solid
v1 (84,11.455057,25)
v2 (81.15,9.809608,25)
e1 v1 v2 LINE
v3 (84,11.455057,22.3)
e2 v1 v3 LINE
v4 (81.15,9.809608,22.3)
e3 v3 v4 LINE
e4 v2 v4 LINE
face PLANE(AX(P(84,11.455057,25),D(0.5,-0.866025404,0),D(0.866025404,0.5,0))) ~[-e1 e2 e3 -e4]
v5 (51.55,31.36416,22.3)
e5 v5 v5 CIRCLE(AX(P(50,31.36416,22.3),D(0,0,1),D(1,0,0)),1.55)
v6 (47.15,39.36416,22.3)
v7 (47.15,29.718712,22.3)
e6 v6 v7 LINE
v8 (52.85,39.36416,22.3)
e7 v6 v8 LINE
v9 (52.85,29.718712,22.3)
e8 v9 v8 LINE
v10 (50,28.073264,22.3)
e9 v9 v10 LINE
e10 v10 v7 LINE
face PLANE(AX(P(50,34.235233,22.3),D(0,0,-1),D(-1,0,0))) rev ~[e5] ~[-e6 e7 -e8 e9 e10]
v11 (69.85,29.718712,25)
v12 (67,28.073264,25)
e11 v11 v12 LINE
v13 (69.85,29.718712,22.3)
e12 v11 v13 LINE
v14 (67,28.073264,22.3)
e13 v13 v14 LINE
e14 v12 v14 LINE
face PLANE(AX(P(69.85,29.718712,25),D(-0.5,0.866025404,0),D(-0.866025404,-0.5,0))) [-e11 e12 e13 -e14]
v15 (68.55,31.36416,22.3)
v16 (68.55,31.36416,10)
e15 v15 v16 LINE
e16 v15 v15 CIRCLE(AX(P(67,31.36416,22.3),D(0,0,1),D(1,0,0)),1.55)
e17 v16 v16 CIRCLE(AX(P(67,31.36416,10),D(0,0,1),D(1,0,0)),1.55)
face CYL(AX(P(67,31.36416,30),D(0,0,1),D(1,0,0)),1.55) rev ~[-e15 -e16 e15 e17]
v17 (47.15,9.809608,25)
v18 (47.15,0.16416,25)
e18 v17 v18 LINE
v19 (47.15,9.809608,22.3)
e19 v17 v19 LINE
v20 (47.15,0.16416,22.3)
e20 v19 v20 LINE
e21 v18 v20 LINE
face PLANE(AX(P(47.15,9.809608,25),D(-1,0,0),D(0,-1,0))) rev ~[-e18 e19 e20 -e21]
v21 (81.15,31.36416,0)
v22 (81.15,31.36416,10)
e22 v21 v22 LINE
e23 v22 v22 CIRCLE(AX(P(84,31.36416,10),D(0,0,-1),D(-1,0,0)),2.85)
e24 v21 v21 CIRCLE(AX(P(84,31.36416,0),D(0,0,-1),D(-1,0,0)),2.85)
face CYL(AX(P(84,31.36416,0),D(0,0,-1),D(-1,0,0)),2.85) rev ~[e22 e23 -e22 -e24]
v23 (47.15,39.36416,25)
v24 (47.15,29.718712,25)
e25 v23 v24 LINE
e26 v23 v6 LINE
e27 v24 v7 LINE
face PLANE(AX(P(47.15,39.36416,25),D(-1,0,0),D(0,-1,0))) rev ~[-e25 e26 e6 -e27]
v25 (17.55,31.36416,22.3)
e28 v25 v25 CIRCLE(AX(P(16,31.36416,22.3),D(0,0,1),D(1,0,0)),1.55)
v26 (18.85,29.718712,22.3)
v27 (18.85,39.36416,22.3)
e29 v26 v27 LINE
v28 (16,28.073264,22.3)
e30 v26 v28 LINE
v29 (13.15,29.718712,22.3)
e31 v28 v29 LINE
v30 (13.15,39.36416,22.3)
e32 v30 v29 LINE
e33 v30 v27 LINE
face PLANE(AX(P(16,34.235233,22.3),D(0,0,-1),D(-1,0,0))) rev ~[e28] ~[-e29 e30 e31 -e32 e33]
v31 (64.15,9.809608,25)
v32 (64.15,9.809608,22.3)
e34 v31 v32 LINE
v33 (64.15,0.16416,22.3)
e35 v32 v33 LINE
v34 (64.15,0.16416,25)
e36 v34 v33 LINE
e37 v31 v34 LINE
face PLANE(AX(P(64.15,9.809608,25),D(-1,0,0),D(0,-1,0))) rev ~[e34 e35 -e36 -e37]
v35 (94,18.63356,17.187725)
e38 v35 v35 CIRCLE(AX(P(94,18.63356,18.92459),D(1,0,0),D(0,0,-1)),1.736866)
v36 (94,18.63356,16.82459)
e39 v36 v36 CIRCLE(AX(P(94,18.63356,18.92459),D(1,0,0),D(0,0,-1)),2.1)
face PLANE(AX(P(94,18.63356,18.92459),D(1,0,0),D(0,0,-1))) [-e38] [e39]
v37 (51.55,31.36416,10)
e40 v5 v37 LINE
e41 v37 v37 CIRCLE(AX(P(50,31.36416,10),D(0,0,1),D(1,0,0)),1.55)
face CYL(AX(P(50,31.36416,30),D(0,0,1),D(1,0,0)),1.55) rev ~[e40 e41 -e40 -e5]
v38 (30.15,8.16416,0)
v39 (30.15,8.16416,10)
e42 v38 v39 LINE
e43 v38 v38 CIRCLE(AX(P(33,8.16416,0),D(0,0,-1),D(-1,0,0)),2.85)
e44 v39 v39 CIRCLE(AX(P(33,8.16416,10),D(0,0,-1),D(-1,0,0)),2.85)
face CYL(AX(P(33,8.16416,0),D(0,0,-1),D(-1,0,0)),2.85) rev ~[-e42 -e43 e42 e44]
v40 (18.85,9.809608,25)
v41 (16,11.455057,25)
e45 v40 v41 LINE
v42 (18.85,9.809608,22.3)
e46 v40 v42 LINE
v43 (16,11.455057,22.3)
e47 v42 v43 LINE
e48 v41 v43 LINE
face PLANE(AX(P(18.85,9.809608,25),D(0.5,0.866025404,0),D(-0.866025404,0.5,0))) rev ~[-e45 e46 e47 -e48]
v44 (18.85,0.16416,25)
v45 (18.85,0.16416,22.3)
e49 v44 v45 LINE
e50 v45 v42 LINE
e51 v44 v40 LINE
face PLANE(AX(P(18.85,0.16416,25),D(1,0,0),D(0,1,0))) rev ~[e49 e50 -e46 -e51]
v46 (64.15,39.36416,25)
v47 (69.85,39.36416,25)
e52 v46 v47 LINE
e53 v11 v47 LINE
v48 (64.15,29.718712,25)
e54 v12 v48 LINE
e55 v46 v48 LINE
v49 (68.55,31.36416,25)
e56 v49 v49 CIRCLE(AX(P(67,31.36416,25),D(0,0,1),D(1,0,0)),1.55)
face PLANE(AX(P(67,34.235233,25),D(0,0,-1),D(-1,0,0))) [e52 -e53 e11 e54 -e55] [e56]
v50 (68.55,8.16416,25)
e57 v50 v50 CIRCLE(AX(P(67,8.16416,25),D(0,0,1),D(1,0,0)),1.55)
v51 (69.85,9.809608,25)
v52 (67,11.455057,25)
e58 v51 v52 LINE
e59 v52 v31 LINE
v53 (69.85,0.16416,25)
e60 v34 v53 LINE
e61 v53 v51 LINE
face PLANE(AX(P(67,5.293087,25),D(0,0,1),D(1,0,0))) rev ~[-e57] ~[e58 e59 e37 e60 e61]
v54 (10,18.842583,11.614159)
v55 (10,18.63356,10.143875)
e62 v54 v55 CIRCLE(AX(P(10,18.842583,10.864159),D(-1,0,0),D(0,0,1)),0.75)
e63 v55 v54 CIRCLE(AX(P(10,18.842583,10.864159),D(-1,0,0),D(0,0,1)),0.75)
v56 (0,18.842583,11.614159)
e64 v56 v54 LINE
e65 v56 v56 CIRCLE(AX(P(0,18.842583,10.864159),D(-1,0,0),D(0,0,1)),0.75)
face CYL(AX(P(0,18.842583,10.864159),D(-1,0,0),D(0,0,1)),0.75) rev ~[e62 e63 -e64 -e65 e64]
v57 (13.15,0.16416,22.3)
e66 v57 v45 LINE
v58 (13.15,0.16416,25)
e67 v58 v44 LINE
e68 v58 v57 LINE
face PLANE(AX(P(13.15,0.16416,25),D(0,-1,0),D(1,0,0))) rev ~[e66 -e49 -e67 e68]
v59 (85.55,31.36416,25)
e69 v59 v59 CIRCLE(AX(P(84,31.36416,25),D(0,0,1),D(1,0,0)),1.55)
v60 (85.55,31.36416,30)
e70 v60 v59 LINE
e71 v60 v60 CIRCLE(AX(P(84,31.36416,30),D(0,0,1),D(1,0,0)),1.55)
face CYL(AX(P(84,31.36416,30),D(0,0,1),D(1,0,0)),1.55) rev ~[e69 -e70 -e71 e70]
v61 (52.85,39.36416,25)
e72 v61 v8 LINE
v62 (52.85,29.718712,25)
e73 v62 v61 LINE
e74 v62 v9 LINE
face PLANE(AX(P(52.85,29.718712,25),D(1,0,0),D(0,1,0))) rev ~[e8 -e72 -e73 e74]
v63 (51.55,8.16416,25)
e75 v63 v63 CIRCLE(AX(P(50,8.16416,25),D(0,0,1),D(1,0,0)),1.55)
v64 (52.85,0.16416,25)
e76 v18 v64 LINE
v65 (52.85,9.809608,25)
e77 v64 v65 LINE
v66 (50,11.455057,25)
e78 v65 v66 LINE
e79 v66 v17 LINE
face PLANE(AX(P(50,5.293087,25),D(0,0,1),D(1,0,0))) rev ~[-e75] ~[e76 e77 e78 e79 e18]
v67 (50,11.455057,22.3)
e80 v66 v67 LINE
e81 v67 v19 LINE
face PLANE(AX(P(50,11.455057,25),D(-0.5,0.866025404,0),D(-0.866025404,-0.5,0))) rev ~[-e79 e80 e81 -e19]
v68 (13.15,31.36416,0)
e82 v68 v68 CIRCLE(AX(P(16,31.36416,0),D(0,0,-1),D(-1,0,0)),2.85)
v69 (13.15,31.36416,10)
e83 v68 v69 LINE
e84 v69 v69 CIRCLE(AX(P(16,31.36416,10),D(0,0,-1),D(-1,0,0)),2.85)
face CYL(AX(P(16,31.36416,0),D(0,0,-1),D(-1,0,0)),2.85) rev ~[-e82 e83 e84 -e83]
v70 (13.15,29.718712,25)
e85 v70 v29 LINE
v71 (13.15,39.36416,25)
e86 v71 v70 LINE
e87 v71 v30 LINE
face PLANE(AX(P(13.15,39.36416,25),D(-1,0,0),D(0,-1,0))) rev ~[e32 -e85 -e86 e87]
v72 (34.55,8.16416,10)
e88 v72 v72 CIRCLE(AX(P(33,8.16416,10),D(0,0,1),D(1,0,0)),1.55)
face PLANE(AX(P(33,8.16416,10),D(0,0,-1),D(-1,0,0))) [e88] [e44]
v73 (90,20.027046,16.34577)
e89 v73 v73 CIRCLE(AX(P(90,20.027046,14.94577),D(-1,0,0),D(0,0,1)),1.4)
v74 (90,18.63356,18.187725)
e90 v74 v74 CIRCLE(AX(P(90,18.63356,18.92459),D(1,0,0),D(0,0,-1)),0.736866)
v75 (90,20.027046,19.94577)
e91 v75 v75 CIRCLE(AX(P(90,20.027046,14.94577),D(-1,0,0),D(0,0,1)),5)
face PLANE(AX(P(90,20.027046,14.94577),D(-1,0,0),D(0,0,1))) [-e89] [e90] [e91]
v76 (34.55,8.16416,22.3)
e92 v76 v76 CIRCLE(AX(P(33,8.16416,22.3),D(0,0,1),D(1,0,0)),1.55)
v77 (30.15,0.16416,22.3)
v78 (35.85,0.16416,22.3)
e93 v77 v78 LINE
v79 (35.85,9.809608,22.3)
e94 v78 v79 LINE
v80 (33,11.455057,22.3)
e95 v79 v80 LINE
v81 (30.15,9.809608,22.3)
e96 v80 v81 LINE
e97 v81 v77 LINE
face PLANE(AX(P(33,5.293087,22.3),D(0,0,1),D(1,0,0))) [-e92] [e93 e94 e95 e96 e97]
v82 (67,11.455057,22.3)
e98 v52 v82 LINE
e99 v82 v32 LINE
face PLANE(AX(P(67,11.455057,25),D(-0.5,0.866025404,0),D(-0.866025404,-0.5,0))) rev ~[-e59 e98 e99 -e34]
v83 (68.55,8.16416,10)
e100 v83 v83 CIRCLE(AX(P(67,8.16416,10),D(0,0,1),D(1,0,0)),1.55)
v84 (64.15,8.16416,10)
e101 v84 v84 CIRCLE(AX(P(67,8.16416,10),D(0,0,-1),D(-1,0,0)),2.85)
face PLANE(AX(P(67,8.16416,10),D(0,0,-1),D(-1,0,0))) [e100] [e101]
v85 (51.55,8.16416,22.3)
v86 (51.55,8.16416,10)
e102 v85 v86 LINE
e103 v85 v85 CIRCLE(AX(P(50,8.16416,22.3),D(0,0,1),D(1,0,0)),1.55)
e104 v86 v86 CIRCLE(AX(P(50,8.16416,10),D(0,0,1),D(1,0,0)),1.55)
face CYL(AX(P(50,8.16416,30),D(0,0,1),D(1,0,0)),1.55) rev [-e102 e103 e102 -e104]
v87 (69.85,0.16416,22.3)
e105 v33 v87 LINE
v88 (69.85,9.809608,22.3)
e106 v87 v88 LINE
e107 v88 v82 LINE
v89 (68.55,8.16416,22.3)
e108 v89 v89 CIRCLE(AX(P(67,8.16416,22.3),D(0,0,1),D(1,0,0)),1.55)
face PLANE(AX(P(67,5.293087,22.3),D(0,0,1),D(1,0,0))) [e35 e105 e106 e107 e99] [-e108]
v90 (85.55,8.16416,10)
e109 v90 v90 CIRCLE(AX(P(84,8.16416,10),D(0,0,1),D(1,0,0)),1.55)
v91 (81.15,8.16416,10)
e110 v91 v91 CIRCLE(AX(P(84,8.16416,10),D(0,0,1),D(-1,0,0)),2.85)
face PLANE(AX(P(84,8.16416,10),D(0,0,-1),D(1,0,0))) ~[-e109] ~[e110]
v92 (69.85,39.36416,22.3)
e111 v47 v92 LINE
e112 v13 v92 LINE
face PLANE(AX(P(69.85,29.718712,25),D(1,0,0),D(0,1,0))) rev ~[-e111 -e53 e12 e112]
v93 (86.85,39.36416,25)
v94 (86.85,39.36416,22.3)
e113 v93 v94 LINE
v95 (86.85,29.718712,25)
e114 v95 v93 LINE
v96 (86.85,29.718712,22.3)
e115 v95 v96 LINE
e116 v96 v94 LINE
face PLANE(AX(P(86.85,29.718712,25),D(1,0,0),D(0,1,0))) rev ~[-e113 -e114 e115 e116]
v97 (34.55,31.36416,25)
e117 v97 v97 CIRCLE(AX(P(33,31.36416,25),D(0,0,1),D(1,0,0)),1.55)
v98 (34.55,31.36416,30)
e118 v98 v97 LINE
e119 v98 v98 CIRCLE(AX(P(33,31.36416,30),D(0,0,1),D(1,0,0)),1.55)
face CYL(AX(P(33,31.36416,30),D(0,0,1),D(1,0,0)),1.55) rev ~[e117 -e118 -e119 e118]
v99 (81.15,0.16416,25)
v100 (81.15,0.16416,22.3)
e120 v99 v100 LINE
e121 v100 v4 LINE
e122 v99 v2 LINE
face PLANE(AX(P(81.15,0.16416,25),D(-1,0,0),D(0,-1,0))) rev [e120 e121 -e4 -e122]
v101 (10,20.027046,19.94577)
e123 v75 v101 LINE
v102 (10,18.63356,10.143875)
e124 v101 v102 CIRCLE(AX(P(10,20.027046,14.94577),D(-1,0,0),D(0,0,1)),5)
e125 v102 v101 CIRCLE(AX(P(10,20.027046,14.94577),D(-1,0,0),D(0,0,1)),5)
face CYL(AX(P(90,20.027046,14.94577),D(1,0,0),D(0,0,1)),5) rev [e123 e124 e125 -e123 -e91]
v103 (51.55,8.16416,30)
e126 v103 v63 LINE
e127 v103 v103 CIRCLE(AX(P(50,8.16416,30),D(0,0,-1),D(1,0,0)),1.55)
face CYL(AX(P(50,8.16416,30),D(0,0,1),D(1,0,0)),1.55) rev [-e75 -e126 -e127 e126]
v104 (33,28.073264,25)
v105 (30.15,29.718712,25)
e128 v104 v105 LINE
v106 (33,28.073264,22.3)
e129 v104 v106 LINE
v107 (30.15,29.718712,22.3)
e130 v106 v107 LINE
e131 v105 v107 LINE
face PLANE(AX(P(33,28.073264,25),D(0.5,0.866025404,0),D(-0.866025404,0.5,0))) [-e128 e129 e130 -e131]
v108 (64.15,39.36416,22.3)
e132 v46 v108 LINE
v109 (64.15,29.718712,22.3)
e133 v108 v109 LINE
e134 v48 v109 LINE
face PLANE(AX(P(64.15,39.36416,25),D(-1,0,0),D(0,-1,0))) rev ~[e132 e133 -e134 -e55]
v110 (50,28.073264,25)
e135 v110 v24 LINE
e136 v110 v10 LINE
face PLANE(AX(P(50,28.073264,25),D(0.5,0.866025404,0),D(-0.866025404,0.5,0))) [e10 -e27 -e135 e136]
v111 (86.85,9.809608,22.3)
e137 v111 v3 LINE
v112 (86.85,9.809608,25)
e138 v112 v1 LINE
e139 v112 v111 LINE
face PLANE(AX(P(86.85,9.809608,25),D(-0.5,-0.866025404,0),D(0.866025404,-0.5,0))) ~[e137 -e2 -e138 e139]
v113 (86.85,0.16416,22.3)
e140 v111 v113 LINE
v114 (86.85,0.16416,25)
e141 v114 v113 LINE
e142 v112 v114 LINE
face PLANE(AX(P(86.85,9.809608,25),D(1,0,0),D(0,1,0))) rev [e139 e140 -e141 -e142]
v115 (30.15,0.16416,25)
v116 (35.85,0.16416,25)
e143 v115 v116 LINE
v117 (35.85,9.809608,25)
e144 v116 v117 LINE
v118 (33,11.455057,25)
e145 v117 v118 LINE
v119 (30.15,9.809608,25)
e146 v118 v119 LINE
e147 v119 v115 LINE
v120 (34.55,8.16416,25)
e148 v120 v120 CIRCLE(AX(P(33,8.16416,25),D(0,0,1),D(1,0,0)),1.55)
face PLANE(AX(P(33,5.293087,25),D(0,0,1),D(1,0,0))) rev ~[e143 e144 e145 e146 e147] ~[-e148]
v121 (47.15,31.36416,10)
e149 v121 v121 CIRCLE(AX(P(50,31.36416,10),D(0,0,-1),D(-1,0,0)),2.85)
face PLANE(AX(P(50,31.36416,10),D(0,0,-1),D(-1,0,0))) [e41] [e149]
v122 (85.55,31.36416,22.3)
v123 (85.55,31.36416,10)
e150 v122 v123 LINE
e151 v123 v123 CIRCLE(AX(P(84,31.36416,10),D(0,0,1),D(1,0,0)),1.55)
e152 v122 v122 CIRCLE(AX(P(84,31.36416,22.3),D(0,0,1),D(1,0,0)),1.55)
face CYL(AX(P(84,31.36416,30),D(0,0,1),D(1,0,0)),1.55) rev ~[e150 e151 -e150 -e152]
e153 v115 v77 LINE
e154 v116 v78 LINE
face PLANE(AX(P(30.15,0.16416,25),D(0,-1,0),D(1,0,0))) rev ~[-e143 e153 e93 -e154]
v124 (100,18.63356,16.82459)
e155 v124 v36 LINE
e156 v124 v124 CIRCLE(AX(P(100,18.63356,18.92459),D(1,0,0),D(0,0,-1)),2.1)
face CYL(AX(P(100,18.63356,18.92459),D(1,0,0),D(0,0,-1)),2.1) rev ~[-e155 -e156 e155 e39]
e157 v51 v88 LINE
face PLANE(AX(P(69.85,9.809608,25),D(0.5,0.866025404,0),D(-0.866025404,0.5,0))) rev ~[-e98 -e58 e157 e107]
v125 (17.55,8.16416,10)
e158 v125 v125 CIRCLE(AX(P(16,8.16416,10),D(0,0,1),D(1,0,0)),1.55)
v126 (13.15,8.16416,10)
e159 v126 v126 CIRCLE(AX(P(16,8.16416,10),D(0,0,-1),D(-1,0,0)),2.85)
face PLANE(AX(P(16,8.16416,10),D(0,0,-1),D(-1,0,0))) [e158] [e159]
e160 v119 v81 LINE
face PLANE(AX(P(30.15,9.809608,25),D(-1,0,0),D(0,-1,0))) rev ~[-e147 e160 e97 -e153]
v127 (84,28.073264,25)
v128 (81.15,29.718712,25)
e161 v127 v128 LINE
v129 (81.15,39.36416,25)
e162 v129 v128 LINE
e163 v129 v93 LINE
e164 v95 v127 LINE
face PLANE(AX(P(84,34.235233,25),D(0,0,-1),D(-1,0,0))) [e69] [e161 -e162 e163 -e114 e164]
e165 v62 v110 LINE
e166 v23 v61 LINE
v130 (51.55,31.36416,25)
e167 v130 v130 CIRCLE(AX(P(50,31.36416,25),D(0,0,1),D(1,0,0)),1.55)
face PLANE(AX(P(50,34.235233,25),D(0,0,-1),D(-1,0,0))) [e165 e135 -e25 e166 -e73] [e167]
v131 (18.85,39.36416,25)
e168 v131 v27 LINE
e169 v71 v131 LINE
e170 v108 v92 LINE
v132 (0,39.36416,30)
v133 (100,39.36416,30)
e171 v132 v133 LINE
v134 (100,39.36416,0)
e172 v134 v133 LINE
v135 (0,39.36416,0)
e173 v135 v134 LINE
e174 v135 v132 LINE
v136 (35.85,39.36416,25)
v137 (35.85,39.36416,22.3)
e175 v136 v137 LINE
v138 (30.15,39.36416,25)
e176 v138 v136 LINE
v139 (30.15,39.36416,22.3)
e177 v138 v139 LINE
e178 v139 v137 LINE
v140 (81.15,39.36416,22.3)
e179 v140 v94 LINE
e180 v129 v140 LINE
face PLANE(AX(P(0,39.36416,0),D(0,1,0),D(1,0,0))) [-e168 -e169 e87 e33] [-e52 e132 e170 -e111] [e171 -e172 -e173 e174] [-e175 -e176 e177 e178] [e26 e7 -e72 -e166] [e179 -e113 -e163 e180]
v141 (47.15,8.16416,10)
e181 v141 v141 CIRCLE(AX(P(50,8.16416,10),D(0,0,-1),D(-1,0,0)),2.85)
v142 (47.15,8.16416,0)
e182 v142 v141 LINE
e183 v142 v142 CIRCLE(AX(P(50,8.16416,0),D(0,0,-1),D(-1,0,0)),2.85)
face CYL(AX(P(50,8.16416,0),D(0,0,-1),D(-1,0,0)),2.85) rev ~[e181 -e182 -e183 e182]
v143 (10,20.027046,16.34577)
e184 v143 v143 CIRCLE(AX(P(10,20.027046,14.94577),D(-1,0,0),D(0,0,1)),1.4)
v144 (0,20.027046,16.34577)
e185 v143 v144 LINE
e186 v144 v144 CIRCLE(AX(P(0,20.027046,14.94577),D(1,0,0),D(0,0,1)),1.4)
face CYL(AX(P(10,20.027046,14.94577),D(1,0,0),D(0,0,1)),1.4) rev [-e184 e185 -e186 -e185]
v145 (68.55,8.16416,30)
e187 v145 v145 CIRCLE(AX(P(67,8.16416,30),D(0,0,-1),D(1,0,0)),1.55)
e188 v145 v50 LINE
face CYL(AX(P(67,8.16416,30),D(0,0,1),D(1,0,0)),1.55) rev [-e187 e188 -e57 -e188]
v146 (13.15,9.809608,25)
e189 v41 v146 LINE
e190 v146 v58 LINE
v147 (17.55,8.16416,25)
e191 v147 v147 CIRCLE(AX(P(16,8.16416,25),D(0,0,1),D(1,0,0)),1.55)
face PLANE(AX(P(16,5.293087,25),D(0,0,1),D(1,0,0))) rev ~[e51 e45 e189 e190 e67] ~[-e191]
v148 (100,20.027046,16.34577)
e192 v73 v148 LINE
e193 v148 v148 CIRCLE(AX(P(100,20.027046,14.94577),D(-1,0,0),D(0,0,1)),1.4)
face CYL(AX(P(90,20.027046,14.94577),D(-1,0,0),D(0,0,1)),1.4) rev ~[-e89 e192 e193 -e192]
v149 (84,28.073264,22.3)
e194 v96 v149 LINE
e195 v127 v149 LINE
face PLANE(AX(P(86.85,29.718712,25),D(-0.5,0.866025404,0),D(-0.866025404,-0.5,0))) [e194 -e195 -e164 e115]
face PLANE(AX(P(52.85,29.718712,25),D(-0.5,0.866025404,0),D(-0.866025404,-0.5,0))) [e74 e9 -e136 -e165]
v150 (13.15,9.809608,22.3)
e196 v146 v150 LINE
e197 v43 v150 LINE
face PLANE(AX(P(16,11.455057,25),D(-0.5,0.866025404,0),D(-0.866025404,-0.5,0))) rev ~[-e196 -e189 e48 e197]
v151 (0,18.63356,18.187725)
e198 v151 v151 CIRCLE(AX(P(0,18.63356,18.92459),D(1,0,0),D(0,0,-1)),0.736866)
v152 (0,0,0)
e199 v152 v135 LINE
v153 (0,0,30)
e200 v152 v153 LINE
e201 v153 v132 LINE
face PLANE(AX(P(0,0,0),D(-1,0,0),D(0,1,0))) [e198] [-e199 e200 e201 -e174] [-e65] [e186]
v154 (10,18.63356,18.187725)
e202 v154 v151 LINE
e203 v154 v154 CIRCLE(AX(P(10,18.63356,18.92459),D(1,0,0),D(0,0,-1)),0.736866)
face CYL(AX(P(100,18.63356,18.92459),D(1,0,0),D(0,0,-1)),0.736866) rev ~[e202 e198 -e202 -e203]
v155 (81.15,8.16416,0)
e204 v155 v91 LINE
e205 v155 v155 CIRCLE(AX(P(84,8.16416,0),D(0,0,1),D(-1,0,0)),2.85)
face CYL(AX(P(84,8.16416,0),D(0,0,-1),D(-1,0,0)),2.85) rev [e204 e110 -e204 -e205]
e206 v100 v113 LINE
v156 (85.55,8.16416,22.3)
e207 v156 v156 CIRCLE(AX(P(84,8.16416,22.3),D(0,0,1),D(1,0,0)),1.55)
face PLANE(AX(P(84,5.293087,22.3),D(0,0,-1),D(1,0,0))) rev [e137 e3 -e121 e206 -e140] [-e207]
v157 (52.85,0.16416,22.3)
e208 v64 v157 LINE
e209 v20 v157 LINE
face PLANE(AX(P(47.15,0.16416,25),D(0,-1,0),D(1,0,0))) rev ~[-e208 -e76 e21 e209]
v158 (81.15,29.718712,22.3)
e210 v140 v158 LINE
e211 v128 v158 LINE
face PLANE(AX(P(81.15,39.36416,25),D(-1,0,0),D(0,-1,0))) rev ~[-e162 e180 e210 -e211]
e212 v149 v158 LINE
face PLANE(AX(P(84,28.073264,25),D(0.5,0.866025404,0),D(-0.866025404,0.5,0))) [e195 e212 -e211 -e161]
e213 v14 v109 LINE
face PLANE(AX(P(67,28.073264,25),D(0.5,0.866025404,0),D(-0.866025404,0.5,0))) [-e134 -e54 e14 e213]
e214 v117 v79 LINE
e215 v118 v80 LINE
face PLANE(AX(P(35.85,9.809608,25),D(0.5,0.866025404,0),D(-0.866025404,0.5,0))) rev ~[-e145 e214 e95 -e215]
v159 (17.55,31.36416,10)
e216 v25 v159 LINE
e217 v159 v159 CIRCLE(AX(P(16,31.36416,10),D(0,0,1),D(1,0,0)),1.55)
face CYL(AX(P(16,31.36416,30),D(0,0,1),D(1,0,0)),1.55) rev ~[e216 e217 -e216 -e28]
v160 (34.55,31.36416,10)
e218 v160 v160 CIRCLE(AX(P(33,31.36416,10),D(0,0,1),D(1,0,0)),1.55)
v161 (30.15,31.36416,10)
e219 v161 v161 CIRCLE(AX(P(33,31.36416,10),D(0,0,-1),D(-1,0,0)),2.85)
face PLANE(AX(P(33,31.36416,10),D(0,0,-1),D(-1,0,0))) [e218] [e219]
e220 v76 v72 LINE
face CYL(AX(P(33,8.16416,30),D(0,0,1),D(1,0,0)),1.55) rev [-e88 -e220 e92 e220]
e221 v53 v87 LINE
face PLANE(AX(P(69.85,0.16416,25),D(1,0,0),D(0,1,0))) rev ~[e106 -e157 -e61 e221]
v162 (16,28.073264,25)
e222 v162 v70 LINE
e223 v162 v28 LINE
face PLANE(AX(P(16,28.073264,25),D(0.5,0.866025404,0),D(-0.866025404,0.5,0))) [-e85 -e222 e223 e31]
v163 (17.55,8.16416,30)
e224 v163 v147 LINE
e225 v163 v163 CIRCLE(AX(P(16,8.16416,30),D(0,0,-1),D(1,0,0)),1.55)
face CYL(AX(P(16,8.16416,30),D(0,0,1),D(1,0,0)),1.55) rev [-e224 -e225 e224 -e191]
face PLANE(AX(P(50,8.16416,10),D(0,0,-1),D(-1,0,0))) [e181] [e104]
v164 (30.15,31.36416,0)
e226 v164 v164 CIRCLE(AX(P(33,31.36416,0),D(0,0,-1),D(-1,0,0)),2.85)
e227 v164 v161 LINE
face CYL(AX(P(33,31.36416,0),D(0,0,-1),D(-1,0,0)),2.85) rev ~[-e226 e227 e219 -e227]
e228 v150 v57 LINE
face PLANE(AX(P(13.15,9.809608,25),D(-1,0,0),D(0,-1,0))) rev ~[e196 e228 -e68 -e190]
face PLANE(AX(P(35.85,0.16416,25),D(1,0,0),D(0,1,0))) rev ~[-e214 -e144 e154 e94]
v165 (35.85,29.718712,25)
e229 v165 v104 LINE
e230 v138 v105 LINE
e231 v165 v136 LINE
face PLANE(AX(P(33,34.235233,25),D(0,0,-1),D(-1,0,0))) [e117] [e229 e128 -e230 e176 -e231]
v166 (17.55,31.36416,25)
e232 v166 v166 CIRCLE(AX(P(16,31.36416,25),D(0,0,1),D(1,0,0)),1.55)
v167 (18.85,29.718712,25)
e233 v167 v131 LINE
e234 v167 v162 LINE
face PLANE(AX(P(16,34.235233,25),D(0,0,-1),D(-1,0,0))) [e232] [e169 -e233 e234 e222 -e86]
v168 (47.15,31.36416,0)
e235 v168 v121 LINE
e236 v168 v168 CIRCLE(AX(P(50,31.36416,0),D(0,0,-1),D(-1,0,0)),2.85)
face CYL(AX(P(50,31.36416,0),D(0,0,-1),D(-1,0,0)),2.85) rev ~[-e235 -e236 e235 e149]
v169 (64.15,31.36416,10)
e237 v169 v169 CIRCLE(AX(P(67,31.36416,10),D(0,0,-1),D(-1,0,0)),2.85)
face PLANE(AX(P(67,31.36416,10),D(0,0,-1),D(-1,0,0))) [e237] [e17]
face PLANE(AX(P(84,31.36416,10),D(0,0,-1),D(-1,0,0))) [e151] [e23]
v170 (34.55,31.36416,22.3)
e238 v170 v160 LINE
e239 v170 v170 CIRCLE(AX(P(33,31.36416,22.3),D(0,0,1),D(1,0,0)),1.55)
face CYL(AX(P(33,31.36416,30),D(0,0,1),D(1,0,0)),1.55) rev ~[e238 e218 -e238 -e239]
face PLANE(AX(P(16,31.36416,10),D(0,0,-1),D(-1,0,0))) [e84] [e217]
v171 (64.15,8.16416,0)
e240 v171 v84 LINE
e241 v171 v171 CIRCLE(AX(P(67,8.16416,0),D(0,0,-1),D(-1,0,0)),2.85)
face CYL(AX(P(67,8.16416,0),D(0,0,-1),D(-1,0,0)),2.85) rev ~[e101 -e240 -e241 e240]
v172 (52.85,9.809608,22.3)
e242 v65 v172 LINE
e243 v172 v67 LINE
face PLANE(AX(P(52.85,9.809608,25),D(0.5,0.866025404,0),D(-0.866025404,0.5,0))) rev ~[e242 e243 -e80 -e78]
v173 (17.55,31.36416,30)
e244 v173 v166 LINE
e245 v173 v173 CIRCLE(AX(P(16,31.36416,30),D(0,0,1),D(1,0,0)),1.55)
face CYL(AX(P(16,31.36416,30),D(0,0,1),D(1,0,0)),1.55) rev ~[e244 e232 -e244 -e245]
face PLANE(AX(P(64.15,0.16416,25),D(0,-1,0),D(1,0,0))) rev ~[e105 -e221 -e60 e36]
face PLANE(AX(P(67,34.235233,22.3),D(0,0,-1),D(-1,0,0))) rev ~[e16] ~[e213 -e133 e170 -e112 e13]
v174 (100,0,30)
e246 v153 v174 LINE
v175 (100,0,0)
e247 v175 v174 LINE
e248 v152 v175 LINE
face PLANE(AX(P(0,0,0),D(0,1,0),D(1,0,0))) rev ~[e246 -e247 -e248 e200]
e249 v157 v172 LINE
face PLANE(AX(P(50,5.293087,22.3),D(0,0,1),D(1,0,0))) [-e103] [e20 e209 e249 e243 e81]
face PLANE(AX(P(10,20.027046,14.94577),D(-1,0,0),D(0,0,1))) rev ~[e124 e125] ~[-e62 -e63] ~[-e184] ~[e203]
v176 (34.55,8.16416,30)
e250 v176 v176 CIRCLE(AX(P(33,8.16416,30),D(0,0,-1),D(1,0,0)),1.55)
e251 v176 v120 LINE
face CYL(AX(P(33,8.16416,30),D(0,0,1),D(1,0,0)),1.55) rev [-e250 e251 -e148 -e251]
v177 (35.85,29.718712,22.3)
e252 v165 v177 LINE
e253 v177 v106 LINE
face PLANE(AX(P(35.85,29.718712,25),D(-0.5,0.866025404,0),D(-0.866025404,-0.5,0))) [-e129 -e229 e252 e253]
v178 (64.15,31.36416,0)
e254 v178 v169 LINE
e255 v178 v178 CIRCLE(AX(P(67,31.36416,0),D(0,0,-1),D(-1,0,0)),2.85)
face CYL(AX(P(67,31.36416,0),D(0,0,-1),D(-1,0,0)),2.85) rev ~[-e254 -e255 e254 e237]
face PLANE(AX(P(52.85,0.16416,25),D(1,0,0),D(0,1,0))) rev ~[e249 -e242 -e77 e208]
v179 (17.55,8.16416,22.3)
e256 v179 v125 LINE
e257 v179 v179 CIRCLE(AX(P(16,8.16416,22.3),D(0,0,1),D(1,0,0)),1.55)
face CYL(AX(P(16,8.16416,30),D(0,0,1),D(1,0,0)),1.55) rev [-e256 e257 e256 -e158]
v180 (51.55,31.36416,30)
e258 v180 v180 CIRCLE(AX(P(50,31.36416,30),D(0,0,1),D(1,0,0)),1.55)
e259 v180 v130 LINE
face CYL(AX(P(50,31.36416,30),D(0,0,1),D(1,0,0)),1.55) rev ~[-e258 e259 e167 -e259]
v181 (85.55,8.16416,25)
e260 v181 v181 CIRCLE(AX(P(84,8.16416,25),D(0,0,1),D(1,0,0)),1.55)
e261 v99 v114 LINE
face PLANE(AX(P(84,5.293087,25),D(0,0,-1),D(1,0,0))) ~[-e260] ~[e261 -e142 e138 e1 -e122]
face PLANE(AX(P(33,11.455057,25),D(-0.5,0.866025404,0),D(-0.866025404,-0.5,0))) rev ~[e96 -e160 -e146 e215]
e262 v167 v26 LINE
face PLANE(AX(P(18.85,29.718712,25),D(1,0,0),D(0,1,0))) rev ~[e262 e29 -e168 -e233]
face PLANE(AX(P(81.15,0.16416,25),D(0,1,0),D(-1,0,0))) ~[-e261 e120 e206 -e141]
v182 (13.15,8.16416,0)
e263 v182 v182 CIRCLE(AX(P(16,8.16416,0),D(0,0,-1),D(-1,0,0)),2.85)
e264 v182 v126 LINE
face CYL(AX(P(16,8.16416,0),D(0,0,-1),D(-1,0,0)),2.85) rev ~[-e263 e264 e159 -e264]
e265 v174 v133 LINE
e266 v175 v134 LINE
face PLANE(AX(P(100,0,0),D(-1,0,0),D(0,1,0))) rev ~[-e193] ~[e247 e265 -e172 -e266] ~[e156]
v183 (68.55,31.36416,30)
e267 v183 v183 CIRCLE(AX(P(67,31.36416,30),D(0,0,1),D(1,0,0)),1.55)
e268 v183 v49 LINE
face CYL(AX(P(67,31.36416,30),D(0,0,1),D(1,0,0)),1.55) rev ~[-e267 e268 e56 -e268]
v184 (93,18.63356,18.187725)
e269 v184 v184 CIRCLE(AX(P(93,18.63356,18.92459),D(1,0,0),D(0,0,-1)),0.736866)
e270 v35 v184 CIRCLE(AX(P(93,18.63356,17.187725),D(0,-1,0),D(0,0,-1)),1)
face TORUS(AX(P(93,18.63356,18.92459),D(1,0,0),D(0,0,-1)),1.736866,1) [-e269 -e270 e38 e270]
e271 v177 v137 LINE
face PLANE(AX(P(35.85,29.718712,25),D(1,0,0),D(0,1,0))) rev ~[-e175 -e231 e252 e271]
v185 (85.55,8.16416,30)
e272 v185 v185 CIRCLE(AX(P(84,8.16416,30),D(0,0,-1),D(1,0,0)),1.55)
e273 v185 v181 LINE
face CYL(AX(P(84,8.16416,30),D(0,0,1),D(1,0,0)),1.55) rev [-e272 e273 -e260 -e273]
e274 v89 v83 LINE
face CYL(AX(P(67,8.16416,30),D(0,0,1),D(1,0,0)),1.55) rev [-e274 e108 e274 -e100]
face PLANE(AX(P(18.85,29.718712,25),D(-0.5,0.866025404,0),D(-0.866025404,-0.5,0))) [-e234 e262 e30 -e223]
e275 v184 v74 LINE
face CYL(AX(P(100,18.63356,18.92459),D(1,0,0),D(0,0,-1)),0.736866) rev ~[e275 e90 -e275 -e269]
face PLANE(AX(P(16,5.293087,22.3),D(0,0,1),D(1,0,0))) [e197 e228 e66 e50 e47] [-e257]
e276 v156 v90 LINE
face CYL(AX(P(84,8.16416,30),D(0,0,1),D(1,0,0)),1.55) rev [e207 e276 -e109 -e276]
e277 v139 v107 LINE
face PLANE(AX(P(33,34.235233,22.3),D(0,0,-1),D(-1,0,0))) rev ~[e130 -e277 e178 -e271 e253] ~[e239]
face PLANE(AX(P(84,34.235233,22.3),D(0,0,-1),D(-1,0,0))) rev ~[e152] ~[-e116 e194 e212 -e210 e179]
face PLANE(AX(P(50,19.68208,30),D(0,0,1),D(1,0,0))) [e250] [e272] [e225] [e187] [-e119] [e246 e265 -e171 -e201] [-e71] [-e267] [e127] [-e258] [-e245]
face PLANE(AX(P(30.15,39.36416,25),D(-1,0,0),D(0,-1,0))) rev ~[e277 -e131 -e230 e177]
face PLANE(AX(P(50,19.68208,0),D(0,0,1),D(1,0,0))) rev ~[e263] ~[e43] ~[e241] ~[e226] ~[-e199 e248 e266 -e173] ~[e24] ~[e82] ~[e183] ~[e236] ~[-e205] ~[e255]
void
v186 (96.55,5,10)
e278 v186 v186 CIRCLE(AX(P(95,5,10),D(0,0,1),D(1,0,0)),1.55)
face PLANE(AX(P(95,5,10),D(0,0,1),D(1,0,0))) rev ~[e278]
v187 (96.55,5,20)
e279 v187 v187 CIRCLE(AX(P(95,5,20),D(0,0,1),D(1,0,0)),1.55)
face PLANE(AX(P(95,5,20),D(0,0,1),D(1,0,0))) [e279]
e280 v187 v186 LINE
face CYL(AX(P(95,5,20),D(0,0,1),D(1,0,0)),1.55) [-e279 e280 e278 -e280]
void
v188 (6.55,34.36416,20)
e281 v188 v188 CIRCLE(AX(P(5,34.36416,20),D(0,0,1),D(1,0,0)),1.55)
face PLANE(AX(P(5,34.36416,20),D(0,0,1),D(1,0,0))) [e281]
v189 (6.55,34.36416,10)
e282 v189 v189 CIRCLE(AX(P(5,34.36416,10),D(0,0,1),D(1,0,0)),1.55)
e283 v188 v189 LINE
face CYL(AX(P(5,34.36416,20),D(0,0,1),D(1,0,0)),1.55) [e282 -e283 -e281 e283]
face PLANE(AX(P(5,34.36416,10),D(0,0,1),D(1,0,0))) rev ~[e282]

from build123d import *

# Parameters (mm, degrees)
SKIZZE2_W                            = 100
SKIZZE2_H                            = 39.364160046
AUFSATZ_LINEAR_AUSTRAGEN1_DEPTH      = 30
SCHNITT_LINEAR_AUSTRAGEN1_DEPTH      = 40
SCHNITT_LINEAR_AUSTRAGEN1_DEPTH_BACK = 40
SKIZZE10_R                           = 5
SKIZZE17_R                           = 1.4
SCHNITT_LINEAR_AUSTRAGEN2_DEPTH      = 103.710939516
SKIZZE24_R                           = 1.55
SCHNITT_LINEAR_AUSTRAGEN4_DEPTH      = 112.577493681
SKIZZE37_R                           = 0.736865544
SCHNITT_LINEAR_AUSTRAGEN9_DEPTH      = 112.577493681
SKIZZE40_R                           = 2.1
SCHNITT_LINEAR_AUSTRAGEN10_DEPTH     = 6
SKIZZE42_R                           = 0.75
SCHNITT_LINEAR_AUSTRAGEN12_DEPTH     = 10
VERRUNDUNG1_R                        = 1
SKIZZE46_R                           = 2.85
SCHNITT_LINEAR_AUSTRAGEN15_DEPTH     = 10
SCHNITT_LINEAR_START                 = -5
SCHNITT_LINEAR_AUSTRAGEN25_DEPTH     = 2.7
LINEARES_MUSTER1_COUNT               = 5
LINEARES_MUSTER1_PITCH               = 17
SPIEGELN2_COPY_1_SKETCH_R            = 2.85
SPIEGELN2_COPY_1_DEPTH               = 10
SPIEGELN2_COPY_2_SKETCH_R            = 2.85
SPIEGELN2_COPY_2_DEPTH               = 10
SPIEGELN2_COPY_3_SKETCH_R            = 2.85
SPIEGELN2_COPY_3_DEPTH               = 10
SPIEGELN2_COPY_4_SKETCH_R            = 2.85
SPIEGELN2_COPY_4_DEPTH               = 10
SPIEGELN2_START                      = -5
SPIEGELN2_COPY_5_DEPTH               = 2.7
SPIEGELN2_COPY_6_DEPTH               = 2.7
SPIEGELN2_COPY_7_DEPTH               = 2.7
SPIEGELN2_COPY_8_DEPTH               = 2.7
SCHNITT_LINEAR_START_2               = -10
SKIZZE51_R                           = 1.55
SCHNITT_LINEAR_AUSTRAGEN26_DEPTH     = 10


with BuildPart() as part:
    # Skizze2 → Aufsatz-Linear austragen1 (new body)
    with BuildSketch(Plane.XY):
        with Locations((50, 19.682080023)):
            Rectangle(SKIZZE2_W, SKIZZE2_H)
    extrude(amount=AUFSATZ_LINEAR_AUSTRAGEN1_DEPTH)

    # Skizze10 → Schnitt-Linear austragen1 (cut, two sides: drawn at the far end of the back side and taken through both)
    with BuildSketch(Plane.ZY.offset(-50).offset(-SCHNITT_LINEAR_AUSTRAGEN1_DEPTH_BACK)):
        with Locations((14.945770016, 20.027045739)):
            Circle(SKIZZE10_R)
    extrude(amount=SCHNITT_LINEAR_AUSTRAGEN1_DEPTH + SCHNITT_LINEAR_AUSTRAGEN1_DEPTH_BACK, mode=Mode.SUBTRACT)

    # Skizze17 → Schnitt-Linear austragen2 (cut, through all)
    with BuildSketch(Plane.ZY.offset(-90)):
        with Locations((14.945770016, 20.027045739)):
            Circle(SKIZZE17_R)
    schnitt_linear_austragen2 = extrude(amount=-SCHNITT_LINEAR_AUSTRAGEN2_DEPTH, mode=Mode.SUBTRACT)

    # Spiegeln1: Schnitt-Linear austragen2 across plane
    add(schnitt_linear_austragen2.mirror(Plane.ZY.offset(-50)), mode=Mode.SUBTRACT)

    # Skizze24 → Schnitt-Linear austragen4 (cut, through all)
    with BuildSketch(Plane.XY.offset(30)):
        with Locations((16, 31.364160046)):
            Circle(SKIZZE24_R)
        with Locations((33, 31.364160046)):
            Circle(SKIZZE24_R)
        with Locations((50, 31.364160046)):
            Circle(SKIZZE24_R)
        with Locations((67, 31.364160046)):
            Circle(SKIZZE24_R)
        with Locations((84, 31.364160046)):
            Circle(SKIZZE24_R)
    schnitt_linear_austragen4 = extrude(amount=-SCHNITT_LINEAR_AUSTRAGEN4_DEPTH, mode=Mode.SUBTRACT)

    # Skizze37 → Schnitt-Linear austragen9 (cut, through all)
    with BuildSketch(Plane(origin=(100, 0, 0), x_dir=(0, 0, -1), z_dir=(1, 0, 0))):
        with Locations((-18.924590299, 18.633559666)):
            Circle(SKIZZE37_R)
    extrude(amount=-SCHNITT_LINEAR_AUSTRAGEN9_DEPTH, mode=Mode.SUBTRACT)

    # Skizze40 → Schnitt-Linear austragen10 (cut)
    with BuildSketch(Plane(origin=(100, 0, 0), x_dir=(0, 0, -1), z_dir=(1, 0, 0))):
        with Locations((-18.924590299, 18.633559666)):
            Circle(SKIZZE40_R)
    extrude(amount=-SCHNITT_LINEAR_AUSTRAGEN10_DEPTH, mode=Mode.SUBTRACT)

    # Skizze42 → Schnitt-Linear austragen12 (cut)
    with BuildSketch(Plane.ZY):
        with Locations((10.86415918, 18.842582577)):
            Circle(SKIZZE42_R)
    extrude(amount=-SCHNITT_LINEAR_AUSTRAGEN12_DEPTH, mode=Mode.SUBTRACT)

    # Verrundung1
    verrundung1_edges = [part.edges().sort_by_distance(p)[0] for p in [
        (94, 18.633559666, 19.661455843),
    ]]
    fillet(verrundung1_edges, radius=VERRUNDUNG1_R)

    # Skizze46 → Schnitt-Linear austragen15 (cut)
    with BuildSketch(Plane(origin=(0, 0, 0), x_dir=(-1, 0, 0), z_dir=(0, 0, -1))):
        with Locations((-84, 31.364160046)):
            Circle(SKIZZE46_R)
    schnitt_linear_austragen15 = extrude(amount=-SCHNITT_LINEAR_AUSTRAGEN15_DEPTH, mode=Mode.SUBTRACT)

    # Skizze50 → Schnitt-Linear austragen25 (cut)
    with BuildSketch(Plane.XY.offset(30).offset(SCHNITT_LINEAR_START)):
        Polygon((81.15, 33.009608314), (81.15, 39.364160046), (86.85, 39.364160046), (86.85, 33.009608314), (86.85, 29.718711779), (84, 28.073263512), (81.15, 29.718711779), align=None)
    schnitt_linear_austragen25 = extrude(amount=-SCHNITT_LINEAR_AUSTRAGEN25_DEPTH, mode=Mode.SUBTRACT)

    # Lineares Muster1: Schnitt-Linear austragen15, Schnitt-Linear austragen25 ×5
    with Locations(*[(-i * LINEARES_MUSTER1_PITCH, 0, 0) for i in range(1, LINEARES_MUSTER1_COUNT)]):
        add(schnitt_linear_austragen15, mode=Mode.SUBTRACT)
        add(schnitt_linear_austragen25, mode=Mode.SUBTRACT)

    # Spiegeln2: Schnitt-Linear austragen15, Schnitt-Linear austragen25 across plane
    add(schnitt_linear_austragen15.mirror(Plane.ZX.offset(19.764160046)), mode=Mode.SUBTRACT)
    add(schnitt_linear_austragen25.mirror(Plane.ZX.offset(19.764160046)), mode=Mode.SUBTRACT)

    # Spiegeln2 copy 1 sketch → Spiegeln2 copy 1 (cut)
    with BuildSketch(Plane(origin=(-17, 39.528320093, 0), x_dir=(-1, 0, 0), z_dir=(0, 0, -1))):
        with Locations((-84, -31.364160046)):
            Circle(SPIEGELN2_COPY_1_SKETCH_R)
    extrude(amount=-SPIEGELN2_COPY_1_DEPTH, mode=Mode.SUBTRACT)

    # Spiegeln2 copy 2 sketch → Spiegeln2 copy 2 (cut)
    with BuildSketch(Plane(origin=(-34, 39.528320093, 0), x_dir=(-1, 0, 0), z_dir=(0, 0, -1))):
        with Locations((-84, -31.364160046)):
            Circle(SPIEGELN2_COPY_2_SKETCH_R)
    extrude(amount=-SPIEGELN2_COPY_2_DEPTH, mode=Mode.SUBTRACT)

    # Spiegeln2 copy 3 sketch → Spiegeln2 copy 3 (cut)
    with BuildSketch(Plane(origin=(-51, 39.528320093, 0), x_dir=(-1, 0, 0), z_dir=(0, 0, -1))):
        with Locations((-84, -31.364160046)):
            Circle(SPIEGELN2_COPY_3_SKETCH_R)
    extrude(amount=-SPIEGELN2_COPY_3_DEPTH, mode=Mode.SUBTRACT)

    # Spiegeln2 copy 4 sketch → Spiegeln2 copy 4 (cut)
    with BuildSketch(Plane(origin=(-68, 39.528320093, 0), x_dir=(-1, 0, 0), z_dir=(0, 0, -1))):
        with Locations((-84, -31.364160046)):
            Circle(SPIEGELN2_COPY_4_SKETCH_R)
    extrude(amount=-SPIEGELN2_COPY_4_DEPTH, mode=Mode.SUBTRACT)

    # Spiegeln2 copy 5 sketch → Spiegeln2 copy 5 (cut)
    with BuildSketch(Plane(origin=(-17, 39.528320093, 30), x_dir=(1, 0, 0), z_dir=(0, 0, 1)).offset(SPIEGELN2_START)):
        Polygon((81.15, -33.009608314), (81.15, -39.364160046), (86.85, -39.364160046), (86.85, -33.009608314), (86.85, -29.718711779), (84, -28.073263512), (81.15, -29.718711779), align=None)
    extrude(amount=-SPIEGELN2_COPY_5_DEPTH, mode=Mode.SUBTRACT)

    # Spiegeln2 copy 6 sketch → Spiegeln2 copy 6 (cut)
    with BuildSketch(Plane(origin=(-34, 39.528320093, 30), x_dir=(1, 0, 0), z_dir=(0, 0, 1)).offset(SPIEGELN2_START)):
        Polygon((81.15, -33.009608314), (81.15, -39.364160046), (86.85, -39.364160046), (86.85, -33.009608314), (86.85, -29.718711779), (84, -28.073263512), (81.15, -29.718711779), align=None)
    extrude(amount=-SPIEGELN2_COPY_6_DEPTH, mode=Mode.SUBTRACT)

    # Spiegeln2 copy 7 sketch → Spiegeln2 copy 7 (cut)
    with BuildSketch(Plane(origin=(-51, 39.528320093, 30), x_dir=(1, 0, 0), z_dir=(0, 0, 1)).offset(SPIEGELN2_START)):
        Polygon((81.15, -33.009608314), (81.15, -39.364160046), (86.85, -39.364160046), (86.85, -33.009608314), (86.85, -29.718711779), (84, -28.073263512), (81.15, -29.718711779), align=None)
    extrude(amount=-SPIEGELN2_COPY_7_DEPTH, mode=Mode.SUBTRACT)

    # Spiegeln2 copy 8 sketch → Spiegeln2 copy 8 (cut)
    with BuildSketch(Plane(origin=(-68, 39.528320093, 30), x_dir=(1, 0, 0), z_dir=(0, 0, 1)).offset(SPIEGELN2_START)):
        Polygon((81.15, -33.009608314), (81.15, -39.364160046), (86.85, -39.364160046), (86.85, -33.009608314), (86.85, -29.718711779), (84, -28.073263512), (81.15, -29.718711779), align=None)
    extrude(amount=-SPIEGELN2_COPY_8_DEPTH, mode=Mode.SUBTRACT)

    # Spiegeln3: Schnitt-Linear austragen4 across plane
    add(schnitt_linear_austragen4.mirror(Plane.ZX.offset(19.764160046)), mode=Mode.SUBTRACT)

    # Skizze51 → Schnitt-Linear austragen26 (cut)
    with BuildSketch(Plane.XY.offset(30).offset(SCHNITT_LINEAR_START_2)):
        with Locations((5, 34.364160046)):
            Circle(SKIZZE51_R)
        with Locations((95, 5)):
            Circle(SKIZZE51_R)
    extrude(amount=-SCHNITT_LINEAR_AUSTRAGEN26_DEPTH, mode=Mode.SUBTRACT)


solid = part.part
